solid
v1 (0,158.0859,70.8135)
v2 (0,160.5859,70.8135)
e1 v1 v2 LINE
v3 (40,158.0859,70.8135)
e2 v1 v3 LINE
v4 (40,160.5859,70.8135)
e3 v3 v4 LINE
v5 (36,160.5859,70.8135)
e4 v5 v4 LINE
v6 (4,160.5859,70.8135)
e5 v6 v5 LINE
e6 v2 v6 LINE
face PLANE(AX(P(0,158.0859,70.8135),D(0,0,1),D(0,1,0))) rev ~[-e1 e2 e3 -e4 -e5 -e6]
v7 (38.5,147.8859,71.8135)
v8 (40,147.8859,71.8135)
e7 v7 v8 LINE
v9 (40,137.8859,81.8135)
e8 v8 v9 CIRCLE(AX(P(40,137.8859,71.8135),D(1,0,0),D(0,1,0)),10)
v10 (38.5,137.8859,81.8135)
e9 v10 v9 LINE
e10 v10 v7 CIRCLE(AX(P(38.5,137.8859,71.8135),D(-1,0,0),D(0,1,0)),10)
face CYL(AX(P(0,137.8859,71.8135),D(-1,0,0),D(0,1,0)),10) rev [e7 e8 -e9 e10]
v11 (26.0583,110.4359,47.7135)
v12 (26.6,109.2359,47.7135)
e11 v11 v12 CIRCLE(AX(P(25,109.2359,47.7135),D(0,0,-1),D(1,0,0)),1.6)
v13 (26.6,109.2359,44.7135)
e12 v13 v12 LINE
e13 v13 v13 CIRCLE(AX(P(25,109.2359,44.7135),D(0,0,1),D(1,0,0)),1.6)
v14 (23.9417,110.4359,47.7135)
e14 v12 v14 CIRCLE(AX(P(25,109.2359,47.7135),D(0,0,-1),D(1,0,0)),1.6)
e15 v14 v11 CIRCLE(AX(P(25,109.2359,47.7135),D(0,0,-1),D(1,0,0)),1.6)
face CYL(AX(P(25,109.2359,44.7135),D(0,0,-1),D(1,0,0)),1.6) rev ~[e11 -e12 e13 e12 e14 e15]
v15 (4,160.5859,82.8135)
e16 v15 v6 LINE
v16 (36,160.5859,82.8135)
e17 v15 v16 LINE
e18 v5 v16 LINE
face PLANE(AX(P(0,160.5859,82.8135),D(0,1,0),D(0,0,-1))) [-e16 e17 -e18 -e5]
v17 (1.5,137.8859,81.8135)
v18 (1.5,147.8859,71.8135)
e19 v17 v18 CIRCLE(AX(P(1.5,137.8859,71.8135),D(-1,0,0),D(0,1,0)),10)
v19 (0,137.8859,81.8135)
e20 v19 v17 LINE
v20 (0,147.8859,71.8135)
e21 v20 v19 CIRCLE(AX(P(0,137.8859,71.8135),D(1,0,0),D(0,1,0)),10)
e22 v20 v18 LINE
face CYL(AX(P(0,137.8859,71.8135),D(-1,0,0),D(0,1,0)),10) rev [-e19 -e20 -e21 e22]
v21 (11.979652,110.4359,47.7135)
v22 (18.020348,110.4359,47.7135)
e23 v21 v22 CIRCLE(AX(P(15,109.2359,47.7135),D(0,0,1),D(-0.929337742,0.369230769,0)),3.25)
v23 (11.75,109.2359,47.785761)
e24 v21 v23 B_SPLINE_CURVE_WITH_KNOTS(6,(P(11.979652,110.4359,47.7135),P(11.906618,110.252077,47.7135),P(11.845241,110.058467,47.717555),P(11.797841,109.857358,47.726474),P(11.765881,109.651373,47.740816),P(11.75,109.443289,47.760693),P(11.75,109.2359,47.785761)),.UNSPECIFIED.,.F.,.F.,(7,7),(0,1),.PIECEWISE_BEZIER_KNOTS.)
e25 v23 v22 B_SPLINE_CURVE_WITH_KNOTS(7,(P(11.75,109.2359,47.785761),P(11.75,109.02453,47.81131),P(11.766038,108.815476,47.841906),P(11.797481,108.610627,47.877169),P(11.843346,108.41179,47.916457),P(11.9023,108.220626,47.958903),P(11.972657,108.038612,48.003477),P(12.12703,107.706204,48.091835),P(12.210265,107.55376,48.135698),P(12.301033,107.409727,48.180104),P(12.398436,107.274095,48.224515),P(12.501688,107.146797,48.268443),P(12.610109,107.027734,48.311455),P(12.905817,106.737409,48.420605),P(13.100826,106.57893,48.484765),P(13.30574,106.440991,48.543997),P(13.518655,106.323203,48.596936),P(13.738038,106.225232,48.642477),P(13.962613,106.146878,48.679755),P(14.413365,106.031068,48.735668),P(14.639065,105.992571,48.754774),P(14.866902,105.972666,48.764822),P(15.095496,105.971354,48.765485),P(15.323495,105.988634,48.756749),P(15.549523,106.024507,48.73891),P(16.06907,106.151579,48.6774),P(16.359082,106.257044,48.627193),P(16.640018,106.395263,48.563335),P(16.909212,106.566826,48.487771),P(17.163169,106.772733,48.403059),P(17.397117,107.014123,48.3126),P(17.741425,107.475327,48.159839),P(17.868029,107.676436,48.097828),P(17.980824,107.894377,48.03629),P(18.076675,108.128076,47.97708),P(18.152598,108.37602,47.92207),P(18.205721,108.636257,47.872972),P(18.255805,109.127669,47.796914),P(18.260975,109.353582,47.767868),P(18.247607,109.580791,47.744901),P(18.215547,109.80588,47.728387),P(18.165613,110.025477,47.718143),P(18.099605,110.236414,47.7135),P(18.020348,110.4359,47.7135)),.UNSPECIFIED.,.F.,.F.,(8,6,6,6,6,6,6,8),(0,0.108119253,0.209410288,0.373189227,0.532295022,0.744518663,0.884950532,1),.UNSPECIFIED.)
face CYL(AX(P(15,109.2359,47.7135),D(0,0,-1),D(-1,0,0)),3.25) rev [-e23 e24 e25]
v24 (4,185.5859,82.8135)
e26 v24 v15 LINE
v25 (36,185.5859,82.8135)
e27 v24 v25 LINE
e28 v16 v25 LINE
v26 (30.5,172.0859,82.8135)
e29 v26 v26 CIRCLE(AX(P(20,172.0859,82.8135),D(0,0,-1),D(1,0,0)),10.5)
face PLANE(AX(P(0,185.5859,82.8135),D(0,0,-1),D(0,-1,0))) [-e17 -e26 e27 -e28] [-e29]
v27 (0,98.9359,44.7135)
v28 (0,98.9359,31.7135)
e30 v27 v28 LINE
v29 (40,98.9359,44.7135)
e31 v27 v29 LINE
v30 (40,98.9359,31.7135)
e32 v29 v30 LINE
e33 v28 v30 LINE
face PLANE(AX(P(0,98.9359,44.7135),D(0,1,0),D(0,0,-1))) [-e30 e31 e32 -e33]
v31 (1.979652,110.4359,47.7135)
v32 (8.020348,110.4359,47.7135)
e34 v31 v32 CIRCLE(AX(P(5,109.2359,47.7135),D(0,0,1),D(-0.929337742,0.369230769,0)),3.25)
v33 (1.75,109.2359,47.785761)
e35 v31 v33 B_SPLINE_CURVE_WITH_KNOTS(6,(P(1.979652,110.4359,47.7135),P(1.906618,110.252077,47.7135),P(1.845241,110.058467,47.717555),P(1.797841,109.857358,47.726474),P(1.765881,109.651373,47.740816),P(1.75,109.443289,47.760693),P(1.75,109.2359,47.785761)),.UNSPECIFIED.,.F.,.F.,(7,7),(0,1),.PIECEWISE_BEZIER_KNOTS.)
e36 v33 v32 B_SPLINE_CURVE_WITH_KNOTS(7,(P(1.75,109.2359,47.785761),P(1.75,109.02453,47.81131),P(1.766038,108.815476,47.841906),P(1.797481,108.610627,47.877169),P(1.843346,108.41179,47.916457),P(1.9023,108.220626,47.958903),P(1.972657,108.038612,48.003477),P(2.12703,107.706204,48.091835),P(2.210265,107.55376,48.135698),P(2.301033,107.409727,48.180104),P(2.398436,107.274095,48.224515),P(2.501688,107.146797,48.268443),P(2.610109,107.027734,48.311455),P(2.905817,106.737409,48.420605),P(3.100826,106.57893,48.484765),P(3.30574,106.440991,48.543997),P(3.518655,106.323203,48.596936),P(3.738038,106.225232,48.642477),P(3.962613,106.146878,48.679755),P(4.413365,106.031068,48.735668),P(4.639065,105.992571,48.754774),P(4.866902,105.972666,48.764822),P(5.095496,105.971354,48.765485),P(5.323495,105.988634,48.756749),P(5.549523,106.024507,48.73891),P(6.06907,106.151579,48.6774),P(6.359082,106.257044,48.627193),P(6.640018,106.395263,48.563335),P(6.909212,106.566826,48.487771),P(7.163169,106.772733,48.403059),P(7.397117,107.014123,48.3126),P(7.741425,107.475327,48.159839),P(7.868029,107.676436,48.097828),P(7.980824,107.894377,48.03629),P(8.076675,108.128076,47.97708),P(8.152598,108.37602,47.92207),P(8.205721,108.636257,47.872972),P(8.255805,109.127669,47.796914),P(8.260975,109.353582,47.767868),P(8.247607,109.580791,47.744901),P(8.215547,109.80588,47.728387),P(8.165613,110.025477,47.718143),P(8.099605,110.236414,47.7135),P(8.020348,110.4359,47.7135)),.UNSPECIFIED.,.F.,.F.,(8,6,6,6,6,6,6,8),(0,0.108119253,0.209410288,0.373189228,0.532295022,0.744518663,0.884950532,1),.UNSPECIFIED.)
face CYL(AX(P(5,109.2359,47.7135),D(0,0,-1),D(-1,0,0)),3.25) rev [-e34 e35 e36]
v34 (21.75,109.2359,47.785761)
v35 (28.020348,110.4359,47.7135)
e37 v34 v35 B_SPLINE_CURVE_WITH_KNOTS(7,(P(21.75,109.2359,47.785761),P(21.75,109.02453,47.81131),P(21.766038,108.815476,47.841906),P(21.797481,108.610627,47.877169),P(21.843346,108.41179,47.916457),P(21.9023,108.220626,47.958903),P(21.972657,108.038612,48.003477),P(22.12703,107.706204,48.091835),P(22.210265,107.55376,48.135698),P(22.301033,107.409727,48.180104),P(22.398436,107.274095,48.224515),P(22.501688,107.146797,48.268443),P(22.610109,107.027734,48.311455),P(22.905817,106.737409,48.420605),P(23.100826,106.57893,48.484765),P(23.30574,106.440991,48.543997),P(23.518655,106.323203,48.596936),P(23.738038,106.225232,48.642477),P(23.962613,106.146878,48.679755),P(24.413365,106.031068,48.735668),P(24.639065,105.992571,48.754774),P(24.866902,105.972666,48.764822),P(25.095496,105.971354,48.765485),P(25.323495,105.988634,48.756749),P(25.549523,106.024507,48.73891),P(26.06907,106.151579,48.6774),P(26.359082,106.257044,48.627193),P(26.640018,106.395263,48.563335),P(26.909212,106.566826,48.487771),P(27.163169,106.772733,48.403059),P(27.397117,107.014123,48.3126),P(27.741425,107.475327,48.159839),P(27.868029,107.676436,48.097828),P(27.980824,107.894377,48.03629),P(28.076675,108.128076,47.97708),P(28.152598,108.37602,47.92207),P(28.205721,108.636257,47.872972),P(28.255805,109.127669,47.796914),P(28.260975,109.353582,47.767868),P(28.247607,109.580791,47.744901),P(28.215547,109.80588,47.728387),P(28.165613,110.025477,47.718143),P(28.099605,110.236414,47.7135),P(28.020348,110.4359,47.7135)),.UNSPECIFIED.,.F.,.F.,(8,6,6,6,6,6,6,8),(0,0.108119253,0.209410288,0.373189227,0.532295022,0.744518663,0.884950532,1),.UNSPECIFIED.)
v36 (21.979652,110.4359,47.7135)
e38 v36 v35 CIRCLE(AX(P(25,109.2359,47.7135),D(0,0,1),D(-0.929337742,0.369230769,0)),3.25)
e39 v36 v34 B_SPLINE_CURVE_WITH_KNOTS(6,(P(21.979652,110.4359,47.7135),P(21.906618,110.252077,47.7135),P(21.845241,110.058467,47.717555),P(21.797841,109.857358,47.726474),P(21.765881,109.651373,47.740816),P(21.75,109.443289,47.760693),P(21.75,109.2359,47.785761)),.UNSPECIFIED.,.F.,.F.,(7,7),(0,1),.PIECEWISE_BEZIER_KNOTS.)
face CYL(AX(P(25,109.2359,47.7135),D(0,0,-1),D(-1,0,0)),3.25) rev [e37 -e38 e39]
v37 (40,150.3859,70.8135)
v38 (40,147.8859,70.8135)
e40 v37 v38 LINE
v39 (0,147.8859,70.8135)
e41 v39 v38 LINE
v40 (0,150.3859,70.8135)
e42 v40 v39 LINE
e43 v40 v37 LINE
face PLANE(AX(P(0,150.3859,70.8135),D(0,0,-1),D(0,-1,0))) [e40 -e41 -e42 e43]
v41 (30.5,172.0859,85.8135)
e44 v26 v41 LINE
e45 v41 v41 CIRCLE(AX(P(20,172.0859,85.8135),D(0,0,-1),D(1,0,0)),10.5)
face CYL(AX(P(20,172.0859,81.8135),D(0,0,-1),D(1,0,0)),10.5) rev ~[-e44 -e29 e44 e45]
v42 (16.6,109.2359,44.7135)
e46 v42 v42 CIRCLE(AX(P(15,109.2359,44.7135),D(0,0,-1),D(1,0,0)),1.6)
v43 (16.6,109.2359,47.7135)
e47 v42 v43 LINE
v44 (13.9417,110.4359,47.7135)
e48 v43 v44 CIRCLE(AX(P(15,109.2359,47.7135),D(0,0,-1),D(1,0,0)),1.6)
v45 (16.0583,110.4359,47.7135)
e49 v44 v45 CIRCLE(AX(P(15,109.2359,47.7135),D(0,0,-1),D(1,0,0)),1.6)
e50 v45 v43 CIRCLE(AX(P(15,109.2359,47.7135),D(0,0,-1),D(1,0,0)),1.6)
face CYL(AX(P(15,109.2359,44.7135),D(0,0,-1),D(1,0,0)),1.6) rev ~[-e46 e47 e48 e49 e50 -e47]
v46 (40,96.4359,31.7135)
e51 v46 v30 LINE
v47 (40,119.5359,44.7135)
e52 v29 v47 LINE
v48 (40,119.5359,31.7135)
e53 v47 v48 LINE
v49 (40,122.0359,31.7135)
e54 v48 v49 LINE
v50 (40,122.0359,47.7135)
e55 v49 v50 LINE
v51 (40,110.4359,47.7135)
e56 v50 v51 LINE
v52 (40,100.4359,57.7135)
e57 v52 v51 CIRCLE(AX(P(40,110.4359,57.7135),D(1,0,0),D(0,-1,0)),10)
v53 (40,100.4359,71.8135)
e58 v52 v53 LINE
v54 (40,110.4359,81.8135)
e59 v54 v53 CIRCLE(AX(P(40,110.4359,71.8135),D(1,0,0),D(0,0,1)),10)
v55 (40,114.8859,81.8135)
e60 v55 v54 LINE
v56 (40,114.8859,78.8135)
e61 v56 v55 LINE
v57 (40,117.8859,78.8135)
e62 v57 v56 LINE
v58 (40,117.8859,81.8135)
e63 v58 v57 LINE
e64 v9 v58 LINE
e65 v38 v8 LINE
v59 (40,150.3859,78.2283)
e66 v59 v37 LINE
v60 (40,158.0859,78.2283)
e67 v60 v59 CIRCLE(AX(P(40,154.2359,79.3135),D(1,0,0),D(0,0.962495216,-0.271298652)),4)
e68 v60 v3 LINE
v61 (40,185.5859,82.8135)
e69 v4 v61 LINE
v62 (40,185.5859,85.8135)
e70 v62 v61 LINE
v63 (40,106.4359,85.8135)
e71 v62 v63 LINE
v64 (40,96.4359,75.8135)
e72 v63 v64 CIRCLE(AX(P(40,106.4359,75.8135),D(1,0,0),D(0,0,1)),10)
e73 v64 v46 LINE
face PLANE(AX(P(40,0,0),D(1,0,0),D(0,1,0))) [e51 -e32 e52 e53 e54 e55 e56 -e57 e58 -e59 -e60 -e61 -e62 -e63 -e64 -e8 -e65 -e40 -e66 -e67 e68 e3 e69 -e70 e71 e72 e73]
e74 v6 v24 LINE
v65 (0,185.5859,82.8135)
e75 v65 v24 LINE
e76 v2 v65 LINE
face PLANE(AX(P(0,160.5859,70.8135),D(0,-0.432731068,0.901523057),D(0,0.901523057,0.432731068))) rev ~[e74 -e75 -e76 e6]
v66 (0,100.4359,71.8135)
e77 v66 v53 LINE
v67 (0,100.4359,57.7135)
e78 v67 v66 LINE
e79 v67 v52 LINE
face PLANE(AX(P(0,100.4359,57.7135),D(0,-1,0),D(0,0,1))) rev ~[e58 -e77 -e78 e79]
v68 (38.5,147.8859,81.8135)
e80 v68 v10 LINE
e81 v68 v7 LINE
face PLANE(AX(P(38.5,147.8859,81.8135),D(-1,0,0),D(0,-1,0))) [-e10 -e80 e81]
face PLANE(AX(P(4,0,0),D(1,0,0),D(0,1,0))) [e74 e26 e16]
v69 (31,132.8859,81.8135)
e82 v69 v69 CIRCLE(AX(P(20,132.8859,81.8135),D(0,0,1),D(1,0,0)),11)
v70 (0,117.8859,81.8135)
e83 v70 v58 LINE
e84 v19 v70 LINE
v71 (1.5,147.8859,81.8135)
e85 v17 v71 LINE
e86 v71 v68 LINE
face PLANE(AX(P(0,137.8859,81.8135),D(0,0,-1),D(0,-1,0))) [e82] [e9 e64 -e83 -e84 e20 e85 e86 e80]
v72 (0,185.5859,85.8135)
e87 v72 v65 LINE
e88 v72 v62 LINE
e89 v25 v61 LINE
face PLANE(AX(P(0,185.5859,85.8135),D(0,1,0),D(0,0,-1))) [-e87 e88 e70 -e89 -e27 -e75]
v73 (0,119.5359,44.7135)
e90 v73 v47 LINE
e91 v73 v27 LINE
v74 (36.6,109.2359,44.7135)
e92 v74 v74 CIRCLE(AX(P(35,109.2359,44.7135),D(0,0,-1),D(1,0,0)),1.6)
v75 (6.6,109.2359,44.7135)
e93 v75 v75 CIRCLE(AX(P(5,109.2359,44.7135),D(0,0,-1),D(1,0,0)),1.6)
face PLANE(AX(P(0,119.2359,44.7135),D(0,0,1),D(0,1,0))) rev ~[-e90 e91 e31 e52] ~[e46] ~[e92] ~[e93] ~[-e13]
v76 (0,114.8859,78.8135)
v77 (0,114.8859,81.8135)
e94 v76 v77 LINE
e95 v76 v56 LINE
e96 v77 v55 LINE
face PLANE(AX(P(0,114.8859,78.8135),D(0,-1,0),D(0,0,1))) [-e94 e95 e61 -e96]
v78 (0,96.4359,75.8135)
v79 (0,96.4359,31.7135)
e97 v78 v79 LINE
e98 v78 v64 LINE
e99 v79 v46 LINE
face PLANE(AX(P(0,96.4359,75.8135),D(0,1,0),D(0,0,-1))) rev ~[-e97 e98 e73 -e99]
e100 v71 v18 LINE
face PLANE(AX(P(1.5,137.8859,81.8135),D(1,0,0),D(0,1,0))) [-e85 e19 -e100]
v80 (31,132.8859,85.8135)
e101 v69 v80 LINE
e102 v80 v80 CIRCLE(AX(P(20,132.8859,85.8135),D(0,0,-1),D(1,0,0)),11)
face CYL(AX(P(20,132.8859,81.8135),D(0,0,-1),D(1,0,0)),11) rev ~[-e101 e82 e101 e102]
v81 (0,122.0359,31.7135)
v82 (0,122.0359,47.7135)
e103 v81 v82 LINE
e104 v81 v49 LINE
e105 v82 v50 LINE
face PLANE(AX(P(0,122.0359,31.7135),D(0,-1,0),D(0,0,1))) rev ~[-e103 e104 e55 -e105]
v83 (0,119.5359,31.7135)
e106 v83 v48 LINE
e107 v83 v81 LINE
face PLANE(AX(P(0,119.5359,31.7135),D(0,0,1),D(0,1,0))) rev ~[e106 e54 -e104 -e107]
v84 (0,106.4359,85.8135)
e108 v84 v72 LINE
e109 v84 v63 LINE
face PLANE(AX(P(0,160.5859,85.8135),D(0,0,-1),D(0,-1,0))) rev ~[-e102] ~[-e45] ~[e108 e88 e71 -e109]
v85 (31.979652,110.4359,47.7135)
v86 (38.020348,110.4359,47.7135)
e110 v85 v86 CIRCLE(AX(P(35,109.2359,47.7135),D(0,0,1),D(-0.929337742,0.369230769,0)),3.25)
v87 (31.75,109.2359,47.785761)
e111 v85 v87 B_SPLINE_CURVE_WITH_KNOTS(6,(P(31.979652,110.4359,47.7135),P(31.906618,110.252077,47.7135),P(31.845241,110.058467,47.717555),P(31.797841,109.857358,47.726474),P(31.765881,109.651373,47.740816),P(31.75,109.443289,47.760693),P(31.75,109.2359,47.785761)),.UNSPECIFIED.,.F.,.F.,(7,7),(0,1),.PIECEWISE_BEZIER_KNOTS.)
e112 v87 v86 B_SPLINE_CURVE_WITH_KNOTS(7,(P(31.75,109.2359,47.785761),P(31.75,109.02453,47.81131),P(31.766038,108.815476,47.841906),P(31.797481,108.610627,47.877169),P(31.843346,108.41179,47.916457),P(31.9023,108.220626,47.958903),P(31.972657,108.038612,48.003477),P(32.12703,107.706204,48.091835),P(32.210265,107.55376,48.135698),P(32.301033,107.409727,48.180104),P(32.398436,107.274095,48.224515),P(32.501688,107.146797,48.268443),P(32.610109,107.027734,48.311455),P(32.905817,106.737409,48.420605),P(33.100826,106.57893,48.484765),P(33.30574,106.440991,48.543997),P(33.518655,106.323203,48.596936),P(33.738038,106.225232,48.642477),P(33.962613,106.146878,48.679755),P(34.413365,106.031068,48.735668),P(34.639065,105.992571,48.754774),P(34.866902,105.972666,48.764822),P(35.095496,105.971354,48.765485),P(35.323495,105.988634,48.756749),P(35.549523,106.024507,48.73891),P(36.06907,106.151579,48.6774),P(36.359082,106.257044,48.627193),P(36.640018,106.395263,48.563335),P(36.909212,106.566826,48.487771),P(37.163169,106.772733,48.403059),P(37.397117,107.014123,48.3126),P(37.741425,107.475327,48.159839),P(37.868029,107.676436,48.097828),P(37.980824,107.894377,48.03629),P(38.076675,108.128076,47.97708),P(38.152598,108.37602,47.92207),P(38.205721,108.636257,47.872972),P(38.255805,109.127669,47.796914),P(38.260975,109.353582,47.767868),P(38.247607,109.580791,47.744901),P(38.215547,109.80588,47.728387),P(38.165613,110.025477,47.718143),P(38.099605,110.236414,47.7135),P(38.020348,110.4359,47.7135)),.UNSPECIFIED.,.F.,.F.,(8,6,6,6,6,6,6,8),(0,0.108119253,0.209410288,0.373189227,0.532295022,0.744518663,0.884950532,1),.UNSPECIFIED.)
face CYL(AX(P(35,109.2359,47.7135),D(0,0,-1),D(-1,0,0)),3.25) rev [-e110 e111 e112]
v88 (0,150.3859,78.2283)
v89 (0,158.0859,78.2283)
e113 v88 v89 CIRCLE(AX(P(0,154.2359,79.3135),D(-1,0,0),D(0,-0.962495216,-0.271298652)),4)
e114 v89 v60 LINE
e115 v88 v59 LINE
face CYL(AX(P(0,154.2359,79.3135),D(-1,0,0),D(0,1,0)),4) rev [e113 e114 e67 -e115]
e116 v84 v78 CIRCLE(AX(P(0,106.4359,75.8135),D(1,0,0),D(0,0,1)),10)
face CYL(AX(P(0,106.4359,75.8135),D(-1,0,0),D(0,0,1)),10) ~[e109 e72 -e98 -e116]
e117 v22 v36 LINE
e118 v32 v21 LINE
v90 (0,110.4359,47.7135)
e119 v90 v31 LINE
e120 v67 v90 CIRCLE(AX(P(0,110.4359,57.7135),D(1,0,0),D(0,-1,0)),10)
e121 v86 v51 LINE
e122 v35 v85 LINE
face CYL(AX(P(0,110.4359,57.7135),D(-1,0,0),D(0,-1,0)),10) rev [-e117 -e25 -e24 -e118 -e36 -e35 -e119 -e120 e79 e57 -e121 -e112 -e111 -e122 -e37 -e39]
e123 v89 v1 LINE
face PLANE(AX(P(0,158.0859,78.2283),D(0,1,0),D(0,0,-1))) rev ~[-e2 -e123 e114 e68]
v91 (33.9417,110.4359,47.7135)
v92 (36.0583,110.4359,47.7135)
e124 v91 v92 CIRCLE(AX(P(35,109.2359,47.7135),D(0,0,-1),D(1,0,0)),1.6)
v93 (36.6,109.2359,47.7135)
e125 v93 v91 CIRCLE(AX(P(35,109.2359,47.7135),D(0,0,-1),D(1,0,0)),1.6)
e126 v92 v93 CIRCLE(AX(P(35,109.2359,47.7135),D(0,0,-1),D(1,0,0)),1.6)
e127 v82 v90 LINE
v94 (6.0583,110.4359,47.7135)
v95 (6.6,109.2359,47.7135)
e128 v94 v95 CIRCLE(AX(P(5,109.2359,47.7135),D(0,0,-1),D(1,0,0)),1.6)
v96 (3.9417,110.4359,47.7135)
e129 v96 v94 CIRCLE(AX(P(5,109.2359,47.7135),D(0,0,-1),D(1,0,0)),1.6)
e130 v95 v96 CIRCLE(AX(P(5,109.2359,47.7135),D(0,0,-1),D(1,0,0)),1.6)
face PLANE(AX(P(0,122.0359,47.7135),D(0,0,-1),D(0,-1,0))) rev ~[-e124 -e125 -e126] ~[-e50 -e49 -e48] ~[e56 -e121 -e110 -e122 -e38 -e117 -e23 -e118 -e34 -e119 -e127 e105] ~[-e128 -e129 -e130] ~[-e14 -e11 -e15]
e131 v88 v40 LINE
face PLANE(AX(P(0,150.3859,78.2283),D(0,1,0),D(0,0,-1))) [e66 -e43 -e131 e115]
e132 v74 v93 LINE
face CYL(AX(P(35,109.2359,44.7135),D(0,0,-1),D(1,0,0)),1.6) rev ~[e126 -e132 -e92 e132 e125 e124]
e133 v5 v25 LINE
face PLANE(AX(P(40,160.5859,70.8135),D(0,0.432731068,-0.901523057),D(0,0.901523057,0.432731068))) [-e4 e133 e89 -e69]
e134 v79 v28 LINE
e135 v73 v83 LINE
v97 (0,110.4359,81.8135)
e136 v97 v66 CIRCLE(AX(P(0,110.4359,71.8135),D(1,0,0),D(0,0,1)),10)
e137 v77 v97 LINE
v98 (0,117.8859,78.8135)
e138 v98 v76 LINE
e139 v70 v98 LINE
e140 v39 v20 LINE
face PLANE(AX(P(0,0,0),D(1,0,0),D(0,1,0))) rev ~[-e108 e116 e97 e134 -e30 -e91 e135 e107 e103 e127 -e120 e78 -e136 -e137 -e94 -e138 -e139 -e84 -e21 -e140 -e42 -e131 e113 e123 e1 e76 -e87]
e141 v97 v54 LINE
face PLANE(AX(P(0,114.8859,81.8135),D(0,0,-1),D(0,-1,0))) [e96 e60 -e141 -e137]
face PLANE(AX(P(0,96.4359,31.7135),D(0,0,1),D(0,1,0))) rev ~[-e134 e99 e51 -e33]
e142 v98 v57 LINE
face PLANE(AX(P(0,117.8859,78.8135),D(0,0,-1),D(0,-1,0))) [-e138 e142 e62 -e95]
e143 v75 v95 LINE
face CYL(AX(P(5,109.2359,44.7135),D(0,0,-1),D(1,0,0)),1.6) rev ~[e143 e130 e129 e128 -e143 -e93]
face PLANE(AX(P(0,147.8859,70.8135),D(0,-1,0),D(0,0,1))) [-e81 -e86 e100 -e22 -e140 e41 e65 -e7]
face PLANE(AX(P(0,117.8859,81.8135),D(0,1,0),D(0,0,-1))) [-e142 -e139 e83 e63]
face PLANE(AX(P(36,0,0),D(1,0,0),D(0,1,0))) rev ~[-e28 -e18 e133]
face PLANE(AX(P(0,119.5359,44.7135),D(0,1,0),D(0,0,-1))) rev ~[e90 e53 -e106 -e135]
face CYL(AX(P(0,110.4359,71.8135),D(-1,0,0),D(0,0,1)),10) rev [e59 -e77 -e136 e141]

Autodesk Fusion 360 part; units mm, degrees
sketch "Sketch2" plane through (0, 0, 0) normal (1, 0, 0) x (0, 1, 0) in component "Support Batt"
  circle A0 centre (154.2359, 79.3135) radius 4
  line L0 (99.2359, 44.7135) -> (119.2359, 44.7135)
  line L1 (119.2359, 31.7135) -> (119.2359, 44.7135)
  line L2 (99.2359, 31.7135) -> (99.2359, 44.7135)
  line L3 (160.5859, 85.8135) -> (106.4359, 85.8135)
  line L4 (50.5431, 31.7135) -> (52.3447, 31.7135)
  line L5 (52.3447, 31.7135) -> (217.041, 31.7135) construction
  line L6 (96.4359, 75.8135) -> (96.4359, 31.7135)
  line L7 (96.4359, 31.7135) -> (98.9359, 31.7135)
  line L8 (98.9359, 44.7135) -> (119.5359, 44.7135)
  line L9 (119.5359, 44.7135) -> (119.5359, 31.7135)
  line L10 (98.9359, 44.7135) -> (98.9359, 31.7135)
  line L11 (119.5359, 31.7135) -> (122.0359, 31.7135)
  line L12 (154.2359, 83.3135) -> (160.5859, 83.3135) construction
  line L13 (160.5859, 85.8135) -> (160.5859, 70.8135)
  line L14 (158.0859, 70.8135) -> (160.5859, 70.8135)
  line L15 (158.0859, 78.2283) -> (158.0859, 70.8135)
  line L16 (150.3859, 78.2283) -> (150.3859, 70.8135)
  line L17 (150.3859, 70.8135) -> (147.8859, 70.8135)
  line L18 (150.3859, 70.8135) -> (158.0859, 70.8135) construction
  line L19 (154.2359, 79.3135) -> (154.2359, 70.8135) construction
  line L20 (147.8859, 70.8135) -> (147.8859, 71.8135)
  line L21 (137.8859, 81.8135) -> (110.4359, 81.8135)
  line L22 (122.0359, 31.7135) -> (122.0359, 47.7135)
  line L23 (122.0359, 47.7135) -> (110.4359, 47.7135)
  line L24 (100.4359, 57.7135) -> (100.4359, 71.8135)
  arc A1 (110.4359, 81.8135) -> (100.4359, 71.8135) centre (110.4359, 71.8135) ccw
  arc A2 (147.8859, 71.8135) -> (137.8859, 81.8135) centre (137.8859, 71.8135) ccw
  arc A3 (100.4359, 57.7135) -> (110.4359, 47.7135) centre (110.4359, 57.7135) ccw
  arc A4 (158.0859, 78.2283) -> (150.3859, 78.2283) centre (154.2359, 79.3135) ccw
  arc A5 (106.4359, 85.8135) -> (96.4359, 75.8135) centre (106.4359, 75.8135) ccw
  line L25 (114.8859, 81.8135) -> (117.8859, 81.8135)
  line L26 (117.8859, 81.8135) -> (117.8859, 78.8135)
  line L27 (117.8859, 78.8135) -> (114.8859, 78.8135)
  line L28 (114.8859, 78.8135) -> (114.8859, 81.8135)
  line L29 (160.5859, 85.8135) -> (185.5859, 85.8135)
  line L30 (185.5859, 85.8135) -> (185.5859, 82.8135)
  line L31 (185.5859, 82.8135) -> (160.5859, 82.8135)
  line L32 (160.5859, 82.8135) -> (160.5859, 85.8135)
  line L33 (160.5859, 70.8135) -> (185.5859, 82.8135)
  point P0 (96.4359, 85.8135)
  point P1 (100.4359, 81.8135)
  dimension "d2" = 0.3
  dimension "d3" = 0.3
  dimension "d4" = 2.5
  dimension "d5" = 2.5
  dimension "d6" = 2.5
  dimension "d7" = 2.5
  dimension "d8" = 8
  dimension "d9" = 15
  dimension "d10" = 7.7
  dimension "d11" = 2.5
  dimension "d12" = 4
  dimension "d13" = 4
  dimension "d14" = 3
  dimension "d15" = 10
  dimension "d68" = 10
  dimension "d69" = 3
  dimension "d70" = 3
  dimension "d71" = 30
  dimension "d80" = 25
  dimension "d81" = 3
extrude "Extrude1" add sketch "Sketch2" along normal blind 40 contours A0 L0 L3 L6 L7 L8 L9 L10 L11 L13 L14 L15 L16 L17 L20 L21 L22 L23 L24 A1 A2 A3 A4 A5 L25 L32 | L13 L29 L30 L31 L32 | L21 L25 L26 L27 L28 in component "Support Batt"
sketch "Sketch3" plane through (0, 0, 44.7135) normal (0, 0, -1) x (1, 0, 0) in component "Support Batt"
  line L0 (0, -98.9359) -> (0, -119.5359)
  line L1 (0, -119.5359) -> (40, -119.5359)
  line L2 (40, -119.5359) -> (40, -98.9359)
  line L3 (40, -98.9359) -> (0, -98.9359)
  line L4 (0, -109.2359) -> (40, -109.2359) construction
  circle A0 centre (25, -109.2359) radius 1.6
  circle A1 centre (15, -109.2359) radius 1.6
  line L5 (15, -109.2359) -> (25, -109.2359)
  line L6 (20, -109.2359) -> (20, -98.9359)
  circle A2 centre (35, -109.2359) radius 1.6
  circle A3 centre (5, -109.2359) radius 1.6
  dimension "d18" = 3.2
  dimension "d19" = 3.2
  dimension "d33" = 3.2
  dimension "d34" = 3.2
  dimension "d35" = 10
  dimension "d36" = 10
  dimension "d72" = 10
extrude "Extrude2" cut sketch "Sketch3" against normal blind 17 contours A0 | A1 | A2 | A3 in component "Support Batt"
sketch "Sketch4" plane through (0, 0, 47.7135) normal (0, 0, 1) x (-1, 0, 0) in component "Support Batt"
  arc A0 (-26.0583, -110.4359) -> (-23.9417, -110.4359) centre (-25, -109.2359) ccw
  line L0 (-26.0583, -110.4359) -> (-33.9417, -110.4359)
  line L1 (-40, -110.4359) -> (-40, -122.0359)
  line L2 (-40, -122.0359) -> (0, -122.0359)
  line L3 (0, -122.0359) -> (0, -110.4359)
  line L4 (0, -110.4359) -> (-3.9417, -110.4359)
  arc A1 (-16.0583, -110.4359) -> (-13.9417, -110.4359) centre (-15, -109.2359) ccw
  line L5 (-16.0583, -110.4359) -> (-23.9417, -110.4359)
  circle A2 centre (-15, -109.2359) radius 3.25
  circle A3 centre (-25, -109.2359) radius 3.25
  arc A4 (-36.0583, -110.4359) -> (-33.9417, -110.4359) centre (-35, -109.2359) ccw
  line L6 (-36.0583, -110.4359) -> (-40, -110.4359)
  arc A5 (-6.0583, -110.4359) -> (-3.9417, -110.4359) centre (-5, -109.2359) ccw
  line L7 (-6.0583, -110.4359) -> (-13.9417, -110.4359)
  circle A6 centre (-5, -109.2359) radius 3.25
  circle A7 centre (-35, -109.2359) radius 3.25
  dimension "d22" = 6.5
  dimension "d23" = 6.5
  dimension "d37" = 6.5
  dimension "d38" = 6.5
extrude "Extrude3" cut sketch "Sketch4" along normal blind 1.0447 contours A0 L0 L5 A3 | L0 A4 L6 A7 | A1 L5 A2 L7 | L4 A5 L7 A6 picked at (-25.046, -108.9536) picked at (-35.046, -108.9536) picked at (-15.046, -108.9536) picked at (-5.046, -108.9536) in component "Support Batt"
extrude "Extrude3'" add sketch "Sketch2" along normal blind 4 contours L13 L31 L33 in component "Support Batt"
sketch "Sketch5" plane through (40, 0, 0) normal (1, 0, 0) x (0, 1, 0) in component "Support Batt"
  line L0 (158.0859, 70.8135) -> (160.5859, 70.8135)
  line L1 (160.5859, 70.8135) -> (160.5859, 82.8135)
  line L2 (160.5859, 82.8135) -> (185.5859, 82.8135)
  line L3 (185.5859, 82.8135) -> (185.5859, 85.8135)
  line L4 (185.5859, 85.8135) -> (106.4359, 85.8135)
  arc A0 (106.4359, 85.8135) -> (96.4359, 75.8135) centre (106.4359, 75.8135) ccw
  line L5 (96.4359, 75.8135) -> (96.4359, 31.7135)
  line L6 (96.4359, 31.7135) -> (98.9359, 31.7135)
  line L7 (98.9359, 31.7135) -> (98.9359, 44.7135)
  line L8 (98.9359, 44.7135) -> (119.5359, 44.7135)
  line L9 (119.5359, 44.7135) -> (119.5359, 31.7135)
  line L10 (119.5359, 31.7135) -> (122.0359, 31.7135)
  line L11 (122.0359, 31.7135) -> (122.0359, 47.7135)
  line L12 (122.0359, 47.7135) -> (110.4359, 47.7135)
  arc A1 (100.4359, 57.7135) -> (110.4359, 47.7135) centre (110.4359, 57.7135) ccw
  line L13 (100.4359, 57.7135) -> (100.4359, 71.8135)
  arc A2 (110.4359, 81.8135) -> (100.4359, 71.8135) centre (110.4359, 71.8135) ccw
  line L14 (110.4359, 81.8135) -> (114.8859, 81.8135)
  line L15 (114.8859, 81.8135) -> (114.8859, 78.8135)
  line L16 (114.8859, 78.8135) -> (117.8859, 78.8135)
  line L17 (117.8859, 78.8135) -> (117.8859, 81.8135)
  line L18 (117.8859, 81.8135) -> (137.8859, 81.8135)
  arc A3 (147.8859, 71.8135) -> (137.8859, 81.8135) centre (137.8859, 71.8135) ccw
  line L19 (147.8859, 71.8135) -> (147.8859, 70.8135)
  line L20 (147.8859, 70.8135) -> (150.3859, 70.8135)
  line L21
  arc A4 (158.0859, 78.2283) -> (150.3859, 78.2283) centre (154.2359, 79.3135) ccw
  line L22 (158.0859, 78.2283) -> (158.0859, 70.8135)
  line L23 (160.5859, 70.8135) -> (185.5859, 82.8135)
extrude "Extrude4" add sketch "Sketch5" against normal blind 4 in component "Support Batt"
sketch "Sketch4 (1)" plane through (0, 0, 81.8135) normal (0, 0, -1) x (1, 0, 0) in component "Support Batt"
  line L0 (0, -117.8859) -> (0, -137.8859)
  line L1 (0, -137.8859) -> (40, -137.8859)
  line L2 (40, -137.8859) -> (40, -117.8859)
  line L3 (40, -117.8859) -> (0, -117.8859)
  line L4 (0, -147.8859) -> (40, -147.8859)
  line L5 (40, -147.8859) -> (0, -117.8859) construction
  line L6 (0, -158.0859) -> (0, -160.5859) construction
  line L7 (0, -160.5859) -> (4, -160.5859) construction
  line L8 (4, -160.5859) -> (36, -160.5859) construction
  line L9 (36, -160.5859) -> (40, -160.5859) construction
  line L10 (40, -160.5859) -> (40, -158.0859) construction
  line L11 (40, -158.0859) -> (0, -158.0859) construction
  line L12 (0, -160.5859) -> (0, -185.5859) construction
  line L13 (0, -185.5859) -> (4, -185.5859) construction
  line L14 (4, -185.5859) -> (4, -160.5859) construction
  line L15 (4, -160.5859) -> (0, -160.5859) construction
  circle A0 centre (20, -172.0859) radius 10.5
  circle A1 centre (20, -132.8859) radius 11
  line L16 (1.5, -147.8859) -> (38.5, -147.8859)
  line L17 (38.5, -147.8859) -> (38.5, -117.8859)
  line L18 (38.5, -117.8859) -> (1.5, -117.8859)
  line L19 (1.5, -117.8859) -> (1.5, -147.8859)
  line L20 (1.5, -147.8859) -> (38.5, -117.8859) construction
  line L21 (38.5, -147.8859) -> (1.5, -117.8859) construction
  line L22 (20, -158.0859) -> (20, -172.0859)
  point P0 (20, -132.8859)
  dimension "d88" = 21
  dimension "d89" = 22
  dimension "d90" = 37
  dimension "d91" = 30
  dimension "d96" = 14
extrude "Extrude5" cut sketch "Sketch4 (1)" against normal blind 11 contours L1 A1 | L1 A1 | A0 in component "Support Batt"
extrude "Extrude6" cut sketch "Sketch4 (1)" along normal blind 17 contours L1 L4 A1 L16 L17 L19 | L1 A1 picked at (22.1414, -140.7456) in component "Support Batt"
component "Support Batt" placed x (1, 0, 0) y (0, 1, 0) z (0, 0, 1) at (0, 0, 0)
